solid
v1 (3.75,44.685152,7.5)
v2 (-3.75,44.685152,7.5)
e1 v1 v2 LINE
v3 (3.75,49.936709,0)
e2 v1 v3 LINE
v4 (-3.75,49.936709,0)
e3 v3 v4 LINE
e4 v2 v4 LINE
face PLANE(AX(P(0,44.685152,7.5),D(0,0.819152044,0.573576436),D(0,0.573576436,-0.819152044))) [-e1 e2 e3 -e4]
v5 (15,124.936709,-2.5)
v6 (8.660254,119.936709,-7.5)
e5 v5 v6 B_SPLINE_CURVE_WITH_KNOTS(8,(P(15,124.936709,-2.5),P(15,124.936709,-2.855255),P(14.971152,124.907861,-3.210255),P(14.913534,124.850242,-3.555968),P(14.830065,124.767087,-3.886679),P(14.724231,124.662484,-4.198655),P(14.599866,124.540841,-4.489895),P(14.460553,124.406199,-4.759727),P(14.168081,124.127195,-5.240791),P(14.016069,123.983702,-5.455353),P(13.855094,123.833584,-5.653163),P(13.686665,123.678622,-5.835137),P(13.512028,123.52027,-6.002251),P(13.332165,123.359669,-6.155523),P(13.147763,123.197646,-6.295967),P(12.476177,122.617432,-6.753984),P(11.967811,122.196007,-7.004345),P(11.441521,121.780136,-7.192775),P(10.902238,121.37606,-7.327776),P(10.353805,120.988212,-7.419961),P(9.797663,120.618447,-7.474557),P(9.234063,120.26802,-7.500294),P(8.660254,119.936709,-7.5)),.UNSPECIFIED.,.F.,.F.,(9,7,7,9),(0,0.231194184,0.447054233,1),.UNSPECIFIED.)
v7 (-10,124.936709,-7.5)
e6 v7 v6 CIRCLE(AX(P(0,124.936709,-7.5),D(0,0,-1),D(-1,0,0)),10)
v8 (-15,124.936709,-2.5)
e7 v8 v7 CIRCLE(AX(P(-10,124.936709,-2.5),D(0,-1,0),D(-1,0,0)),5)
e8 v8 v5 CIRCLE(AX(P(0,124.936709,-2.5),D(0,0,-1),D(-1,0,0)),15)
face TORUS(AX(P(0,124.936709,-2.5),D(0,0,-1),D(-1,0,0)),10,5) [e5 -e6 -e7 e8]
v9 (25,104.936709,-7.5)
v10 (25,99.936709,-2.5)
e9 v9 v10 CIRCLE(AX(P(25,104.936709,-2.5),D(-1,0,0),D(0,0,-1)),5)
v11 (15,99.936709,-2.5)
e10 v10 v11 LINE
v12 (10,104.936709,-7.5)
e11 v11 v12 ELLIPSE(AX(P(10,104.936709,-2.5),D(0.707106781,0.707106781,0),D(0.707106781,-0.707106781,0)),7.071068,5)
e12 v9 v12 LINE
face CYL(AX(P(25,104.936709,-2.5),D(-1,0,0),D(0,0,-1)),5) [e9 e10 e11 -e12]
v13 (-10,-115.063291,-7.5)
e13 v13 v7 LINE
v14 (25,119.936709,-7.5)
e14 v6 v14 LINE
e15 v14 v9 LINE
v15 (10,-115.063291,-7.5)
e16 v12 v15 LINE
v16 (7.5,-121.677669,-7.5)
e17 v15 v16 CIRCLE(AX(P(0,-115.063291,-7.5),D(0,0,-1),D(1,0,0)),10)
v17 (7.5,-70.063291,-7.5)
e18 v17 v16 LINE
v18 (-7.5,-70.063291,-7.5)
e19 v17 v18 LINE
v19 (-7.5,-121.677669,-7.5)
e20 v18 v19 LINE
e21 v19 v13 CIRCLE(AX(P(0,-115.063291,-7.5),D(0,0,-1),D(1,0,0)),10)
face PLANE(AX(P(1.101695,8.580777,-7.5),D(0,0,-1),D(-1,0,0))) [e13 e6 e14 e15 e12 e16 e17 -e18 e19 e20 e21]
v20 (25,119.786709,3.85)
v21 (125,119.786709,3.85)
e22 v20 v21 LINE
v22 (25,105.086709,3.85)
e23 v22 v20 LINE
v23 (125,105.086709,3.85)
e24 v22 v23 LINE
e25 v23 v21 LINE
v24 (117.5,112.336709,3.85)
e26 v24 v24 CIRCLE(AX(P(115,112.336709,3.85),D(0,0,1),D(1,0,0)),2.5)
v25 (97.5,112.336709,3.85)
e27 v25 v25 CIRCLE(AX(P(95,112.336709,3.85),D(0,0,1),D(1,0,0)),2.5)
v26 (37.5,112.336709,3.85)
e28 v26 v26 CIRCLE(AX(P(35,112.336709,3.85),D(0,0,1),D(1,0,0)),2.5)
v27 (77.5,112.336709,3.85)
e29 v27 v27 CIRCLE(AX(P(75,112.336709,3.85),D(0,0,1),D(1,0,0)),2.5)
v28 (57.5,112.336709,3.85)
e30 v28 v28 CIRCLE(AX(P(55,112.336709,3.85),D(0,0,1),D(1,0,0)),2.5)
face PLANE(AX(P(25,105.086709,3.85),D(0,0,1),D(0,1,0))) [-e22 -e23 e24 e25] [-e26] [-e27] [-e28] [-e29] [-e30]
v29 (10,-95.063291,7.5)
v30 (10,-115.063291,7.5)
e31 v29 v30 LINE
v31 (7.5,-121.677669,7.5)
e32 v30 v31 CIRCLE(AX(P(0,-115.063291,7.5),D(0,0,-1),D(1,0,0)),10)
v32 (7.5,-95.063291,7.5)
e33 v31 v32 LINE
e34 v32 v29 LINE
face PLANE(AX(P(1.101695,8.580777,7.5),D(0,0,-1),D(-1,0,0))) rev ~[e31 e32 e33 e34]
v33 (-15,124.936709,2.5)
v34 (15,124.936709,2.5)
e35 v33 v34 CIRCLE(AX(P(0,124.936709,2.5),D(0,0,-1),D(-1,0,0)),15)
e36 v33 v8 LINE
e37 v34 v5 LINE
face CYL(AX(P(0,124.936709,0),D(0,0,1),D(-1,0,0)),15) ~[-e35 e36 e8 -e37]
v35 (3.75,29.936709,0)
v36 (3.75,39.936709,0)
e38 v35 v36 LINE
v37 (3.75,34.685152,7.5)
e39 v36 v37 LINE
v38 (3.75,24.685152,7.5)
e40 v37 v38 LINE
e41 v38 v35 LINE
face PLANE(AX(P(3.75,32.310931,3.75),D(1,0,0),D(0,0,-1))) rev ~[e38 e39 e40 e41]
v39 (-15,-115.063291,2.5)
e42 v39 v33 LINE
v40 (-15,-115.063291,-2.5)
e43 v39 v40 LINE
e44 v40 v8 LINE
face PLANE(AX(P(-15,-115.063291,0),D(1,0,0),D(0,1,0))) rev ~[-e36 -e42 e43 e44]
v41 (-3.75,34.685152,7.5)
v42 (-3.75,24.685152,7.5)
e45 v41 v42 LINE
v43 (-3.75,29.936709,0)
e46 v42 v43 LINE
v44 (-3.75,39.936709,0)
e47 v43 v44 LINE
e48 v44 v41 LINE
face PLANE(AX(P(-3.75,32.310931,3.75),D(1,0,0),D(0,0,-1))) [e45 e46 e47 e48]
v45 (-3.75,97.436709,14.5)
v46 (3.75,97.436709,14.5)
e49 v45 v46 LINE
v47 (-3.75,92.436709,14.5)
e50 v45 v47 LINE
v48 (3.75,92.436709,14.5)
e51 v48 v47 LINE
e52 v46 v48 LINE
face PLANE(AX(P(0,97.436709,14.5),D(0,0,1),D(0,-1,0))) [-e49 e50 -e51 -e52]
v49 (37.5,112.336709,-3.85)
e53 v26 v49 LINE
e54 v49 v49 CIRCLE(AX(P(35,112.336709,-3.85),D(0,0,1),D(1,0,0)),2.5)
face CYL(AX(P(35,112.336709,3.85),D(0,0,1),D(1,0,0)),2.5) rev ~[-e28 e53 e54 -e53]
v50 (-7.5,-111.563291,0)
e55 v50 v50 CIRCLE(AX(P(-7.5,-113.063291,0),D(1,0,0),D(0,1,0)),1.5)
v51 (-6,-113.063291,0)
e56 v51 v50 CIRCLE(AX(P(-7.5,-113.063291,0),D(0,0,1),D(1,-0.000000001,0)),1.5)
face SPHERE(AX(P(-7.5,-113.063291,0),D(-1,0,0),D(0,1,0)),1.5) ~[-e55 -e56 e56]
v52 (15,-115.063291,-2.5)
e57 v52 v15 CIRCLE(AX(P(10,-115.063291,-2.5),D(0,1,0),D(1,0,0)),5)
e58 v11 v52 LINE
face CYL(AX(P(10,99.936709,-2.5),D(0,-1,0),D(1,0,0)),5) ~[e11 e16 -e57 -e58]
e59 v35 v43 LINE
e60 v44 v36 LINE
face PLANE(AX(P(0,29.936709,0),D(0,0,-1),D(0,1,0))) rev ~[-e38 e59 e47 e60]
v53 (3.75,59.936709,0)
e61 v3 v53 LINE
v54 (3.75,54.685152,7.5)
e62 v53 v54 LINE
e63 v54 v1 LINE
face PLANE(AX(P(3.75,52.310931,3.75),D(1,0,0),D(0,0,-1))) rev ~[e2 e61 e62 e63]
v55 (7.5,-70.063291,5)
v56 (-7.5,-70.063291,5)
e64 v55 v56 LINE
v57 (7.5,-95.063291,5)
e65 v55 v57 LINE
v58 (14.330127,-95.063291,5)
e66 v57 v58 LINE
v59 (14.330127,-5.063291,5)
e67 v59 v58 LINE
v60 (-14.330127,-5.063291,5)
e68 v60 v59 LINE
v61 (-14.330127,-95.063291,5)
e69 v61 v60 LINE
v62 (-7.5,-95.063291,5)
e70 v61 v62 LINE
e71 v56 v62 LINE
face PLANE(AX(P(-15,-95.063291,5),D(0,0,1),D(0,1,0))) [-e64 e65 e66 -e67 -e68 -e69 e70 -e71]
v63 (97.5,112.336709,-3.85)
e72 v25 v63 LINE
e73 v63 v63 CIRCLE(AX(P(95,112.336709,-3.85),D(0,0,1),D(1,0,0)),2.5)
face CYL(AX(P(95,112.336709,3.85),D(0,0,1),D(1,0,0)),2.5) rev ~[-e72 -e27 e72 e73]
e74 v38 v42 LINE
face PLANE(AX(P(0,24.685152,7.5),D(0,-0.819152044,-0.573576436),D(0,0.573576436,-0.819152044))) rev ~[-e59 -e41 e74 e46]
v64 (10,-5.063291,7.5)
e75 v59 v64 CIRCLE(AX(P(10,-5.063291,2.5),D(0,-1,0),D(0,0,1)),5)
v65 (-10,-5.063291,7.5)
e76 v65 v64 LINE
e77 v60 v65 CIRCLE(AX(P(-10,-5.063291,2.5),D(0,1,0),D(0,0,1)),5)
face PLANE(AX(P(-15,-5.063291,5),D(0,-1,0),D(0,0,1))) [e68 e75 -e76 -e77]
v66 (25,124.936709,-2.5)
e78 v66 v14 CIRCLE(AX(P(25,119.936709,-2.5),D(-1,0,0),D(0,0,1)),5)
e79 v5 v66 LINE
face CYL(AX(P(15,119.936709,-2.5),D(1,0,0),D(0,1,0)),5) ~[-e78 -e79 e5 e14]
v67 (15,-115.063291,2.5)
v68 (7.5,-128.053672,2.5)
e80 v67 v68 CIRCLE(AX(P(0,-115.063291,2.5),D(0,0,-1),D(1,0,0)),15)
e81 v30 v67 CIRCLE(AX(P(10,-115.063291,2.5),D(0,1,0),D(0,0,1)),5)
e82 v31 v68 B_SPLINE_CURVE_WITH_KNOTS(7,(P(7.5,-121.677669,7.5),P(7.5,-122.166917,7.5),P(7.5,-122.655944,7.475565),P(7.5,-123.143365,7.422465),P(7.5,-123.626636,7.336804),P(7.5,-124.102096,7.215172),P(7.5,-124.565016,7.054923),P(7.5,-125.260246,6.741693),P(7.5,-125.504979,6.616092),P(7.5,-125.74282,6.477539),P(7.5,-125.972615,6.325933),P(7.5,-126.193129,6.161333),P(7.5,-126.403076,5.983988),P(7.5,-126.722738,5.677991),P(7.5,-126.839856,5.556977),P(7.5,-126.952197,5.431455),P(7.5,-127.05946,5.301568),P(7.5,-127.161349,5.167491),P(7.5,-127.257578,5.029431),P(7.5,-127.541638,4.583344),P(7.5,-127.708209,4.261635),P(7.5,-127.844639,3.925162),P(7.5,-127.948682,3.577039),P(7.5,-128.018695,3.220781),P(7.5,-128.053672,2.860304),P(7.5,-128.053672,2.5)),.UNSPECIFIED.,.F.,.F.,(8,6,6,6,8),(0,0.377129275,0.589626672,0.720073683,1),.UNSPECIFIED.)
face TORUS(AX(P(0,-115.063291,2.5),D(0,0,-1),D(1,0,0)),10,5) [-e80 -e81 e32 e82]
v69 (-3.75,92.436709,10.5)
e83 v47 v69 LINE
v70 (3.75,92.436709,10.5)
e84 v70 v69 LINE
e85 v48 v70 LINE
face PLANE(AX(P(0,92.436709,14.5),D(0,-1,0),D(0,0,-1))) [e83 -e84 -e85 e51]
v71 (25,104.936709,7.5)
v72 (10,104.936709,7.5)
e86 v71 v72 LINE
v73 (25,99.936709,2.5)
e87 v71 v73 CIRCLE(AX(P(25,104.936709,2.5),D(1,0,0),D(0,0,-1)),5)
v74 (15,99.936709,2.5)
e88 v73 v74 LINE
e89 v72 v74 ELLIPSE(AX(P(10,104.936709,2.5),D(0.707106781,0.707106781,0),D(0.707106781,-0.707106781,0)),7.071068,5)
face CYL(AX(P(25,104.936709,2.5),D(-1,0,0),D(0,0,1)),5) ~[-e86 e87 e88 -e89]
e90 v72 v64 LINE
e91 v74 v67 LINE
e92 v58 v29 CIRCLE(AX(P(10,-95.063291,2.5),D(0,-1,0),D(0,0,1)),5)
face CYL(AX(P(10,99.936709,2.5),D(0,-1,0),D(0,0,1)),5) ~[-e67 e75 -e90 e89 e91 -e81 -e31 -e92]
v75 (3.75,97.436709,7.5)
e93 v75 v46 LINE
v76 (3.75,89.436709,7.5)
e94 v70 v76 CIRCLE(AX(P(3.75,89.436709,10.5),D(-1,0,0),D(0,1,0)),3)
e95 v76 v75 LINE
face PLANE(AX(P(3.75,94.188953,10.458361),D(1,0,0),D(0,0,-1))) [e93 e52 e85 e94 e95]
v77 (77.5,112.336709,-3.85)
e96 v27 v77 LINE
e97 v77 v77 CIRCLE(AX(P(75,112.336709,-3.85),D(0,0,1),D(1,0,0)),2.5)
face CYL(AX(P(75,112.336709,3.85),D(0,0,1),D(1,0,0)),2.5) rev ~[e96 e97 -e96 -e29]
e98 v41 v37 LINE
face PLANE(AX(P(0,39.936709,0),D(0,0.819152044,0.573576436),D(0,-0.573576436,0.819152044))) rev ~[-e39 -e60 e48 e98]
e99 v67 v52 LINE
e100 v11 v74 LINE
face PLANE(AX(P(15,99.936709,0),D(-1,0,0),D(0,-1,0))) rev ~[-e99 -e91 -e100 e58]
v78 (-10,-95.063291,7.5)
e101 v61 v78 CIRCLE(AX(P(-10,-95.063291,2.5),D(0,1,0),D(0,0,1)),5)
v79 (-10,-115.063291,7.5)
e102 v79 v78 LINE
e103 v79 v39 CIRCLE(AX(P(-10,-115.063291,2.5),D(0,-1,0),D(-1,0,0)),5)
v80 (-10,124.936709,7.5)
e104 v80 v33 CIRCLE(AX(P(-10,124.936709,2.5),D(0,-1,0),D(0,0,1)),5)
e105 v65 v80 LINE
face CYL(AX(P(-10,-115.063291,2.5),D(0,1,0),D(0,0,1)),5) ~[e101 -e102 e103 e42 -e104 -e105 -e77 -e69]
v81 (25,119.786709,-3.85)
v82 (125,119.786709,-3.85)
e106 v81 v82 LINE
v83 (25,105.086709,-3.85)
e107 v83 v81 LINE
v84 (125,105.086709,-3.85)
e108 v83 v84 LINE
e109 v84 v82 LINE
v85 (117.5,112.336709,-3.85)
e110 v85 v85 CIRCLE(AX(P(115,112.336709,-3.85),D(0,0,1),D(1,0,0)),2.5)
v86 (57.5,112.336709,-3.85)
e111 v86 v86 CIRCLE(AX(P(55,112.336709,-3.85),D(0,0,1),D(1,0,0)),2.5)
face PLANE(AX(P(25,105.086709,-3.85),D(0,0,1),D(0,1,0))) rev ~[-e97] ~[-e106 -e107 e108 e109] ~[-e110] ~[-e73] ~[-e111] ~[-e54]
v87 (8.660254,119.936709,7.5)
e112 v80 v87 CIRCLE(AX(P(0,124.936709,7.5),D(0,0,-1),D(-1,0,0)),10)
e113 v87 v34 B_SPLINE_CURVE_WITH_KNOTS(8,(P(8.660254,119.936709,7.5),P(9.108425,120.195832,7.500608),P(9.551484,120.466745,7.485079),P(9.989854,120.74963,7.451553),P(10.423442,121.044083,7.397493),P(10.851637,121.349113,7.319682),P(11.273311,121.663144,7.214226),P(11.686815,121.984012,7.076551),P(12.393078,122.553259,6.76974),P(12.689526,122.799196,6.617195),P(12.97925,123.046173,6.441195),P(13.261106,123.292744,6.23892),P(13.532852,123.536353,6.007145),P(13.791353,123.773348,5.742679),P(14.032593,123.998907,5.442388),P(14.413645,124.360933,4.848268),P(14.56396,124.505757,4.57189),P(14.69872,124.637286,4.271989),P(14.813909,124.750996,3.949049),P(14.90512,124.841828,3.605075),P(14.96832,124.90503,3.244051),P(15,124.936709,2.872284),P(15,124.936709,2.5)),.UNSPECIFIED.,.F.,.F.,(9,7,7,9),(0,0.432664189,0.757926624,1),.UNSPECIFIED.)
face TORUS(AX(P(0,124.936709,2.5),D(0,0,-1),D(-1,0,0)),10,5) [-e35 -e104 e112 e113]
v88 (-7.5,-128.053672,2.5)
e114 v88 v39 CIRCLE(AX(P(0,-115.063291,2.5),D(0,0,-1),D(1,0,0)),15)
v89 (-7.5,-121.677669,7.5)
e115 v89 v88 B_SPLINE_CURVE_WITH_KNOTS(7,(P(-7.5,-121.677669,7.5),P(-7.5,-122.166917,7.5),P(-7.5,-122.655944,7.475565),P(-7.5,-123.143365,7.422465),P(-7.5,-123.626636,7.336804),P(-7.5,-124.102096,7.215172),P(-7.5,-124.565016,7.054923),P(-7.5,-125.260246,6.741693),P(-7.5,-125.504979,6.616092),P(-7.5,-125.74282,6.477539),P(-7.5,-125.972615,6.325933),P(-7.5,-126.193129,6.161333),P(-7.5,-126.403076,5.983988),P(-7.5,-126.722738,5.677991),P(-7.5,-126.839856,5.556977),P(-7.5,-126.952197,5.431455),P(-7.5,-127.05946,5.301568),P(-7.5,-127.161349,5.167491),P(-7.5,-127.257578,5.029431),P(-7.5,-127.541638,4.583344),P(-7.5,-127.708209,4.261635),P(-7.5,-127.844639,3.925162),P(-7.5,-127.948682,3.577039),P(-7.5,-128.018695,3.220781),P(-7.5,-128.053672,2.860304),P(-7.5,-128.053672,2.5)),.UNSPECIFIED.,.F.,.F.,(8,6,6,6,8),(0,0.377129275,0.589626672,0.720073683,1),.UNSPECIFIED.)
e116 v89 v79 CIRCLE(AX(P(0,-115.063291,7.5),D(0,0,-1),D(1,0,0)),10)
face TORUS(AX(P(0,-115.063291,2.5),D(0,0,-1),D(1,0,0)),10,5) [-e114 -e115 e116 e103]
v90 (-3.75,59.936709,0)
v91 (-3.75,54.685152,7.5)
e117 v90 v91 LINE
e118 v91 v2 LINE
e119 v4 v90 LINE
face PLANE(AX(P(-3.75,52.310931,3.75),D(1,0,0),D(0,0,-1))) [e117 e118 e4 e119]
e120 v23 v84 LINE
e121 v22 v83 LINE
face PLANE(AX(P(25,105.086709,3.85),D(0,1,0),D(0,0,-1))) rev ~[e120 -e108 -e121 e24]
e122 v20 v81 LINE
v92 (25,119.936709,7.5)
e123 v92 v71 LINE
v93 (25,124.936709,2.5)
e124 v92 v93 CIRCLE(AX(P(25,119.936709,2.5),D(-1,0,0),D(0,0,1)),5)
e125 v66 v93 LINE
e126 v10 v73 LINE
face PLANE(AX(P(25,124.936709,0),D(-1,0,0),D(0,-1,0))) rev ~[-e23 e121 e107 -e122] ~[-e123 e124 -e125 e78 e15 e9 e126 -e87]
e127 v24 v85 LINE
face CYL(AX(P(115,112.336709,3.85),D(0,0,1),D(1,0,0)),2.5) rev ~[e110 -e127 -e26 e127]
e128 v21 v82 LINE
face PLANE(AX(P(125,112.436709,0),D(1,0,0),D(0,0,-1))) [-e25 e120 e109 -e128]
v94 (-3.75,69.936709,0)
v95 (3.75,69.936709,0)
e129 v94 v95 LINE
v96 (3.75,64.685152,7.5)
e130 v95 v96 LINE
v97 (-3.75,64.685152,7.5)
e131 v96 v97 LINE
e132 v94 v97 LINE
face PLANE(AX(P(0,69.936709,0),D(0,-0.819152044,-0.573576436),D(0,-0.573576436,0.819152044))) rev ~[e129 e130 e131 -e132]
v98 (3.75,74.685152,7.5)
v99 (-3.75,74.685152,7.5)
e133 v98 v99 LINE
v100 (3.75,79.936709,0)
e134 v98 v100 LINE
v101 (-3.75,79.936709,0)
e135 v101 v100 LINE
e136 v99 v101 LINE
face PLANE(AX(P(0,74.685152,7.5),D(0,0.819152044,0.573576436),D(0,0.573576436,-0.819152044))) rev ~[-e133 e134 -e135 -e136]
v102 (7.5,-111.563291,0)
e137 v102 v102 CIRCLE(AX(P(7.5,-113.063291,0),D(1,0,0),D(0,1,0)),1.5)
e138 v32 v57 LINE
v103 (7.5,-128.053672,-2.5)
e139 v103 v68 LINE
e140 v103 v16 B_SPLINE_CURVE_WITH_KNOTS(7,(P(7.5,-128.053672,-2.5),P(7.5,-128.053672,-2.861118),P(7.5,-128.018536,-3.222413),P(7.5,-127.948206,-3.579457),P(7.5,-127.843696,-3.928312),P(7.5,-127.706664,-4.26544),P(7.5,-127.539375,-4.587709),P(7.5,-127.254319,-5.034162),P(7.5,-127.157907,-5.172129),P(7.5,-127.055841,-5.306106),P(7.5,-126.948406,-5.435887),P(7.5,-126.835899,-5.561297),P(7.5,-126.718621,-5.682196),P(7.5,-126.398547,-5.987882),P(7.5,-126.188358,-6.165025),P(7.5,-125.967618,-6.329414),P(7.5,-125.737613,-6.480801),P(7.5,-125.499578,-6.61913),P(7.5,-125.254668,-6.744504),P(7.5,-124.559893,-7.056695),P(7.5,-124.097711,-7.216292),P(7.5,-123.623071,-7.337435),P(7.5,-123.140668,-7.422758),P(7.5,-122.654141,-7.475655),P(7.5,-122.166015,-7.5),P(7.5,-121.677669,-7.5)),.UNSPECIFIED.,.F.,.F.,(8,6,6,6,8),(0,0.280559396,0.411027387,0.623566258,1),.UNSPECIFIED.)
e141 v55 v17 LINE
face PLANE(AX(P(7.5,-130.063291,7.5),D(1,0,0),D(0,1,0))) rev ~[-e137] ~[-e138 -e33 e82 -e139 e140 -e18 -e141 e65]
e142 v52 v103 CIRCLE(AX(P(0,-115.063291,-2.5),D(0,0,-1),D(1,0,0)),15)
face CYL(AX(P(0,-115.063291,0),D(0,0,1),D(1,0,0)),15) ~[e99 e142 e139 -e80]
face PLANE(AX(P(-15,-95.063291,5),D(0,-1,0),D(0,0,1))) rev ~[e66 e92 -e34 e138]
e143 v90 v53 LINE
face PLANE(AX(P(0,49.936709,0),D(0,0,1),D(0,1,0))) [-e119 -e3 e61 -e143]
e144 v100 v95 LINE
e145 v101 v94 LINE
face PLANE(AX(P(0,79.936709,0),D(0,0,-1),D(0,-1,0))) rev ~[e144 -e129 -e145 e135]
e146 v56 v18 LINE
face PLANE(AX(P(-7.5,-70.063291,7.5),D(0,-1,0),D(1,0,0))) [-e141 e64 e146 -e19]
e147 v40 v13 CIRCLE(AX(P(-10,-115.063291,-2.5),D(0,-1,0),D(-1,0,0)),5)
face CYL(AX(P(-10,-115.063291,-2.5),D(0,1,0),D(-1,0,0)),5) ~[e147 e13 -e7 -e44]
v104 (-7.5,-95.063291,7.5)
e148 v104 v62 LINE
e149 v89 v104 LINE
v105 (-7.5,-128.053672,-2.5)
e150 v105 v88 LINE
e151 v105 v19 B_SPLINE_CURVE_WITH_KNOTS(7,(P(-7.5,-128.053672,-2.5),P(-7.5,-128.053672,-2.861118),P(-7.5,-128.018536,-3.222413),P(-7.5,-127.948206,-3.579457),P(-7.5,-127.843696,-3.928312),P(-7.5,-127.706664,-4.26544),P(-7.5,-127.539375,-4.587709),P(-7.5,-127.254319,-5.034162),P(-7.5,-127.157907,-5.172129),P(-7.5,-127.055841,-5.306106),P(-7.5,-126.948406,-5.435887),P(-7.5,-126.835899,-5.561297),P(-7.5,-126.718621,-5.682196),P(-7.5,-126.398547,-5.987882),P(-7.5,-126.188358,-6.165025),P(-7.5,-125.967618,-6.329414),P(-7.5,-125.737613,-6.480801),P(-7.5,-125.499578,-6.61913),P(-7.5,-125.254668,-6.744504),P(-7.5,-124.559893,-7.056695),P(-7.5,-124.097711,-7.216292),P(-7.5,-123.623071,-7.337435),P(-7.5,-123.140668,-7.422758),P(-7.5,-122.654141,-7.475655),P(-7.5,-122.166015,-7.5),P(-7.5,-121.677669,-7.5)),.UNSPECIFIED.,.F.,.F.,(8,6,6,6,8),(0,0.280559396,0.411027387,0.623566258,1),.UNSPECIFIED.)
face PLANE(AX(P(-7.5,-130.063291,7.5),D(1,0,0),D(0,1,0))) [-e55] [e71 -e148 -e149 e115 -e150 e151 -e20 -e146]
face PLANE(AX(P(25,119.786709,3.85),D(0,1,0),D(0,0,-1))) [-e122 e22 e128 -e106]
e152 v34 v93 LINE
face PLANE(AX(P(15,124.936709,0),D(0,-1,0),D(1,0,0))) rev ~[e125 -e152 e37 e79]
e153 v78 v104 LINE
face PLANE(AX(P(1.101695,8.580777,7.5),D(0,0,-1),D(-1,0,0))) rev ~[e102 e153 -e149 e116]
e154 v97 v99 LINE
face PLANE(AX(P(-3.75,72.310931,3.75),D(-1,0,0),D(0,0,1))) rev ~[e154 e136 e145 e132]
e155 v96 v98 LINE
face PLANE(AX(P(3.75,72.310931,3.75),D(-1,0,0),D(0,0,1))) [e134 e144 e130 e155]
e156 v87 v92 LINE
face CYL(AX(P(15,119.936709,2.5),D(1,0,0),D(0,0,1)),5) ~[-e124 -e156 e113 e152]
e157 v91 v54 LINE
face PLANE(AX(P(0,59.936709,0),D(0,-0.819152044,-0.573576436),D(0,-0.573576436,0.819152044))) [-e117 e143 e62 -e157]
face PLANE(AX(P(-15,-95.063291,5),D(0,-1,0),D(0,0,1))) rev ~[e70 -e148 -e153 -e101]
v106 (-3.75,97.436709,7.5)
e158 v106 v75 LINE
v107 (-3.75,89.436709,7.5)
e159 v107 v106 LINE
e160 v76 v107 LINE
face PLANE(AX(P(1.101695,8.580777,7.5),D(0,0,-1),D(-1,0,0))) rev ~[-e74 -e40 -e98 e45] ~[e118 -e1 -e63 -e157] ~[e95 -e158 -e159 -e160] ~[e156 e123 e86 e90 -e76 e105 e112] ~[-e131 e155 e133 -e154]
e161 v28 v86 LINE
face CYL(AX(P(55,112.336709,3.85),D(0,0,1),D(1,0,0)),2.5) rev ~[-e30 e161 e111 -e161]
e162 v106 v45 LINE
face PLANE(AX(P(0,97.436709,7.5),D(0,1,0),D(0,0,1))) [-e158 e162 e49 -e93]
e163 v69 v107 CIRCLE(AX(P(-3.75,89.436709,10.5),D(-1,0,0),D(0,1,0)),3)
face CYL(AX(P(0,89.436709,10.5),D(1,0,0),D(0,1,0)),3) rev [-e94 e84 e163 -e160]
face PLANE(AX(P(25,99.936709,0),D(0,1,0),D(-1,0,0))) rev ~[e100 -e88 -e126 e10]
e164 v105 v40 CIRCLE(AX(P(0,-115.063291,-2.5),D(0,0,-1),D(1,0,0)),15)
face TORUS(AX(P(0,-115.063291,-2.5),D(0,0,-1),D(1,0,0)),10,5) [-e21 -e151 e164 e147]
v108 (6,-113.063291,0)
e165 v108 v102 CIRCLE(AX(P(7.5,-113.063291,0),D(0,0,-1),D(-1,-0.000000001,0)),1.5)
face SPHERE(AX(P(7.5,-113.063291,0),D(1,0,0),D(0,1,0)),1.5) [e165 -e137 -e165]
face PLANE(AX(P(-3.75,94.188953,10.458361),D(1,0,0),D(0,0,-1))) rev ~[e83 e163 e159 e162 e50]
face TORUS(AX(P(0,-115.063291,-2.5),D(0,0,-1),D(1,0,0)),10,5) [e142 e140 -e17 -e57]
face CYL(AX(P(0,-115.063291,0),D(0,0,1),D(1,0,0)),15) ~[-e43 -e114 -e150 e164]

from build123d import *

# Parameters (mm, degrees)
BOSS_EXTRUDE1_DEPTH = 7.5
FILLET1_R           = 5
SKETCH2_W           = 7.7
SKETCH2_H           = 14.7
BOSS_EXTRUDE2_DEPTH = 100
SKETCH3_R           = 2.5
CUT_EXTRUDE1_DEPTH  = 100
SKETCH4_W           = 15
SKETCH4_H           = 60
CUT_EXTRUDE2_DEPTH  = 100
CUT_EXTRUDE3_DEPTH  = 3.75
BOSS_EXTRUDE3_DEPTH = 3.75
SKETCH10_W          = 2.5
SKETCH10_H          = 90
CUT_EXTRUDE4_DEPTH  = 199.475521198


with BuildPart() as part:
    # Sketch1 → Boss-Extrude1 (new, symmetric)
    with BuildSketch(Plane.XY):
        with BuildLine():
            Line((15, 99.936708861), (15, -115.063291139))
            ThreePointArc((15, -115.063291139), (0, -130.063291139), (-15, -115.063291139))
            Line((-15, -115.063291139), (-15, 124.936708861))
            ThreePointArc((-15, 124.936708861), (0, 139.936708861), (15, 124.936708861))
            Line((15, 124.936708861), (25, 124.936708861))
            Line((25, 124.936708861), (25, 99.936708861))
            Line((25, 99.936708861), (15, 99.936708861))
        make_face()
    extrude(amount=BOSS_EXTRUDE1_DEPTH, both=True)

    # Fillet1
    fillet1_edges = [part.edges().sort_by_distance(p)[0] for p in [
        (0, 139.936708861, -7.5),
        (0, -130.063291139, 7.5),
        (15, -7.563291139, 7.5),
        (20, 99.936708861, 7.5),
        (20, 124.936708861, 7.5),
        (0, 139.936708861, 7.5),
        (20, 124.936708861, -7.5),
        (20, 99.936708861, -7.5),
        (15, -7.563291139, -7.5),
        (-15, 4.936708861, 7.5),
        (0, -130.063291139, -7.5),
        (-15, 4.936708861, -7.5),
    ]]
    fillet(fillet1_edges, radius=FILLET1_R)

    # Sketch2 → Boss-Extrude2 (add)
    with BuildSketch(Plane(origin=(25, 0, 0), x_dir=(0, 0, -1), z_dir=(1, 0, 0))):
        with Locations((0, 112.436708861)):
            Rectangle(SKETCH2_W, SKETCH2_H)
    extrude(amount=BOSS_EXTRUDE2_DEPTH)

    # Sketch3 → Cut-Extrude1 (cut)
    with BuildSketch(Plane.XY.offset(3.85)):
        with Locations((35, 112.336708861)):
            Circle(SKETCH3_R)
        with Locations((55, 112.336708861)):
            Circle(SKETCH3_R)
        with Locations((75, 112.336708861)):
            Circle(SKETCH3_R)
        with Locations((95, 112.336708861)):
            Circle(SKETCH3_R)
        with Locations((115, 112.336708861)):
            Circle(SKETCH3_R)
    extrude(amount=-CUT_EXTRUDE1_DEPTH, mode=Mode.SUBTRACT)

    # Sketch4 → Cut-Extrude2 (cut)
    with BuildSketch(Plane.XY.offset(7.5)):
        with Locations((0, -100.063291139)):
            Rectangle(SKETCH4_W, SKETCH4_H)
    extrude(amount=-CUT_EXTRUDE2_DEPTH, mode=Mode.SUBTRACT)

    # Sketch7 → Cut-Extrude3 (cut, symmetric)
    with BuildSketch(Plane(origin=(0, 0, 0), x_dir=(0, 0, -1), z_dir=(1, 0, 0))):
        Polygon((0, 69.936708861), (-7.5, 64.685152324), (-7.5, 74.685152324), (0, 79.936708861), align=None)
        Polygon((0, 49.936708861), (0, 59.936708861), (-7.5, 54.685152324), (-7.5, 44.685152324), align=None)
        Polygon((0, 29.936708861), (0, 39.936708861), (-7.5, 34.685152324), (-7.5, 24.685152324), align=None)
    extrude(amount=CUT_EXTRUDE3_DEPTH, both=True, mode=Mode.SUBTRACT)

    # Sketch8 → Revolve1 (revolve)
    with BuildSketch(Plane.XY):
        with BuildLine():
            Line((-7.5, -113.063291139), (-6, -113.063291139))
            ThreePointArc((-6, -113.063291139), (-6.439339828, -112.002630967), (-7.5, -111.563291139))
            Line((-7.5, -111.563291139), (-7.5, -113.063291139))
        make_face()
        with BuildLine():
            Line((7.5, -113.063291139), (6, -113.063291139))
            ThreePointArc((6, -113.063291139), (6.439339828, -112.002630967), (7.5, -111.563291139))
            Line((7.5, -111.563291139), (7.5, -113.063291139))
        make_face()
    revolve(axis=Axis((-28.138828416, -113.063291139, 0), (1, 0, 0)))

    # Sketch9 → Boss-Extrude3 (add, symmetric)
    with BuildSketch(Plane(origin=(0, 0, 0), x_dir=(0, 0, -1), z_dir=(1, 0, 0))):
        with BuildLine():
            Line((-7.5, 89.436708861), (-7.5, 97.436708861))
            Line((-7.5, 97.436708861), (-14.5, 97.436708861))
            Line((-14.5, 97.436708861), (-14.5, 92.436708861))
            Line((-14.5, 92.436708861), (-10.5, 92.436708861))
            ThreePointArc((-10.5, 92.436708861), (-8.378679656, 91.558029204), (-7.5, 89.436708861))
        make_face()
    extrude(amount=BOSS_EXTRUDE3_DEPTH, both=True)

    # Sketch10 → Cut-Extrude4 (cut, through all)
    with BuildSketch(Plane.ZY.offset(15)):
        with Locations((6.25, -50.063291139)):
            Rectangle(SKETCH10_W, SKETCH10_H)
    extrude(amount=-CUT_EXTRUDE4_DEPTH, mode=Mode.SUBTRACT)


solid = part.part
